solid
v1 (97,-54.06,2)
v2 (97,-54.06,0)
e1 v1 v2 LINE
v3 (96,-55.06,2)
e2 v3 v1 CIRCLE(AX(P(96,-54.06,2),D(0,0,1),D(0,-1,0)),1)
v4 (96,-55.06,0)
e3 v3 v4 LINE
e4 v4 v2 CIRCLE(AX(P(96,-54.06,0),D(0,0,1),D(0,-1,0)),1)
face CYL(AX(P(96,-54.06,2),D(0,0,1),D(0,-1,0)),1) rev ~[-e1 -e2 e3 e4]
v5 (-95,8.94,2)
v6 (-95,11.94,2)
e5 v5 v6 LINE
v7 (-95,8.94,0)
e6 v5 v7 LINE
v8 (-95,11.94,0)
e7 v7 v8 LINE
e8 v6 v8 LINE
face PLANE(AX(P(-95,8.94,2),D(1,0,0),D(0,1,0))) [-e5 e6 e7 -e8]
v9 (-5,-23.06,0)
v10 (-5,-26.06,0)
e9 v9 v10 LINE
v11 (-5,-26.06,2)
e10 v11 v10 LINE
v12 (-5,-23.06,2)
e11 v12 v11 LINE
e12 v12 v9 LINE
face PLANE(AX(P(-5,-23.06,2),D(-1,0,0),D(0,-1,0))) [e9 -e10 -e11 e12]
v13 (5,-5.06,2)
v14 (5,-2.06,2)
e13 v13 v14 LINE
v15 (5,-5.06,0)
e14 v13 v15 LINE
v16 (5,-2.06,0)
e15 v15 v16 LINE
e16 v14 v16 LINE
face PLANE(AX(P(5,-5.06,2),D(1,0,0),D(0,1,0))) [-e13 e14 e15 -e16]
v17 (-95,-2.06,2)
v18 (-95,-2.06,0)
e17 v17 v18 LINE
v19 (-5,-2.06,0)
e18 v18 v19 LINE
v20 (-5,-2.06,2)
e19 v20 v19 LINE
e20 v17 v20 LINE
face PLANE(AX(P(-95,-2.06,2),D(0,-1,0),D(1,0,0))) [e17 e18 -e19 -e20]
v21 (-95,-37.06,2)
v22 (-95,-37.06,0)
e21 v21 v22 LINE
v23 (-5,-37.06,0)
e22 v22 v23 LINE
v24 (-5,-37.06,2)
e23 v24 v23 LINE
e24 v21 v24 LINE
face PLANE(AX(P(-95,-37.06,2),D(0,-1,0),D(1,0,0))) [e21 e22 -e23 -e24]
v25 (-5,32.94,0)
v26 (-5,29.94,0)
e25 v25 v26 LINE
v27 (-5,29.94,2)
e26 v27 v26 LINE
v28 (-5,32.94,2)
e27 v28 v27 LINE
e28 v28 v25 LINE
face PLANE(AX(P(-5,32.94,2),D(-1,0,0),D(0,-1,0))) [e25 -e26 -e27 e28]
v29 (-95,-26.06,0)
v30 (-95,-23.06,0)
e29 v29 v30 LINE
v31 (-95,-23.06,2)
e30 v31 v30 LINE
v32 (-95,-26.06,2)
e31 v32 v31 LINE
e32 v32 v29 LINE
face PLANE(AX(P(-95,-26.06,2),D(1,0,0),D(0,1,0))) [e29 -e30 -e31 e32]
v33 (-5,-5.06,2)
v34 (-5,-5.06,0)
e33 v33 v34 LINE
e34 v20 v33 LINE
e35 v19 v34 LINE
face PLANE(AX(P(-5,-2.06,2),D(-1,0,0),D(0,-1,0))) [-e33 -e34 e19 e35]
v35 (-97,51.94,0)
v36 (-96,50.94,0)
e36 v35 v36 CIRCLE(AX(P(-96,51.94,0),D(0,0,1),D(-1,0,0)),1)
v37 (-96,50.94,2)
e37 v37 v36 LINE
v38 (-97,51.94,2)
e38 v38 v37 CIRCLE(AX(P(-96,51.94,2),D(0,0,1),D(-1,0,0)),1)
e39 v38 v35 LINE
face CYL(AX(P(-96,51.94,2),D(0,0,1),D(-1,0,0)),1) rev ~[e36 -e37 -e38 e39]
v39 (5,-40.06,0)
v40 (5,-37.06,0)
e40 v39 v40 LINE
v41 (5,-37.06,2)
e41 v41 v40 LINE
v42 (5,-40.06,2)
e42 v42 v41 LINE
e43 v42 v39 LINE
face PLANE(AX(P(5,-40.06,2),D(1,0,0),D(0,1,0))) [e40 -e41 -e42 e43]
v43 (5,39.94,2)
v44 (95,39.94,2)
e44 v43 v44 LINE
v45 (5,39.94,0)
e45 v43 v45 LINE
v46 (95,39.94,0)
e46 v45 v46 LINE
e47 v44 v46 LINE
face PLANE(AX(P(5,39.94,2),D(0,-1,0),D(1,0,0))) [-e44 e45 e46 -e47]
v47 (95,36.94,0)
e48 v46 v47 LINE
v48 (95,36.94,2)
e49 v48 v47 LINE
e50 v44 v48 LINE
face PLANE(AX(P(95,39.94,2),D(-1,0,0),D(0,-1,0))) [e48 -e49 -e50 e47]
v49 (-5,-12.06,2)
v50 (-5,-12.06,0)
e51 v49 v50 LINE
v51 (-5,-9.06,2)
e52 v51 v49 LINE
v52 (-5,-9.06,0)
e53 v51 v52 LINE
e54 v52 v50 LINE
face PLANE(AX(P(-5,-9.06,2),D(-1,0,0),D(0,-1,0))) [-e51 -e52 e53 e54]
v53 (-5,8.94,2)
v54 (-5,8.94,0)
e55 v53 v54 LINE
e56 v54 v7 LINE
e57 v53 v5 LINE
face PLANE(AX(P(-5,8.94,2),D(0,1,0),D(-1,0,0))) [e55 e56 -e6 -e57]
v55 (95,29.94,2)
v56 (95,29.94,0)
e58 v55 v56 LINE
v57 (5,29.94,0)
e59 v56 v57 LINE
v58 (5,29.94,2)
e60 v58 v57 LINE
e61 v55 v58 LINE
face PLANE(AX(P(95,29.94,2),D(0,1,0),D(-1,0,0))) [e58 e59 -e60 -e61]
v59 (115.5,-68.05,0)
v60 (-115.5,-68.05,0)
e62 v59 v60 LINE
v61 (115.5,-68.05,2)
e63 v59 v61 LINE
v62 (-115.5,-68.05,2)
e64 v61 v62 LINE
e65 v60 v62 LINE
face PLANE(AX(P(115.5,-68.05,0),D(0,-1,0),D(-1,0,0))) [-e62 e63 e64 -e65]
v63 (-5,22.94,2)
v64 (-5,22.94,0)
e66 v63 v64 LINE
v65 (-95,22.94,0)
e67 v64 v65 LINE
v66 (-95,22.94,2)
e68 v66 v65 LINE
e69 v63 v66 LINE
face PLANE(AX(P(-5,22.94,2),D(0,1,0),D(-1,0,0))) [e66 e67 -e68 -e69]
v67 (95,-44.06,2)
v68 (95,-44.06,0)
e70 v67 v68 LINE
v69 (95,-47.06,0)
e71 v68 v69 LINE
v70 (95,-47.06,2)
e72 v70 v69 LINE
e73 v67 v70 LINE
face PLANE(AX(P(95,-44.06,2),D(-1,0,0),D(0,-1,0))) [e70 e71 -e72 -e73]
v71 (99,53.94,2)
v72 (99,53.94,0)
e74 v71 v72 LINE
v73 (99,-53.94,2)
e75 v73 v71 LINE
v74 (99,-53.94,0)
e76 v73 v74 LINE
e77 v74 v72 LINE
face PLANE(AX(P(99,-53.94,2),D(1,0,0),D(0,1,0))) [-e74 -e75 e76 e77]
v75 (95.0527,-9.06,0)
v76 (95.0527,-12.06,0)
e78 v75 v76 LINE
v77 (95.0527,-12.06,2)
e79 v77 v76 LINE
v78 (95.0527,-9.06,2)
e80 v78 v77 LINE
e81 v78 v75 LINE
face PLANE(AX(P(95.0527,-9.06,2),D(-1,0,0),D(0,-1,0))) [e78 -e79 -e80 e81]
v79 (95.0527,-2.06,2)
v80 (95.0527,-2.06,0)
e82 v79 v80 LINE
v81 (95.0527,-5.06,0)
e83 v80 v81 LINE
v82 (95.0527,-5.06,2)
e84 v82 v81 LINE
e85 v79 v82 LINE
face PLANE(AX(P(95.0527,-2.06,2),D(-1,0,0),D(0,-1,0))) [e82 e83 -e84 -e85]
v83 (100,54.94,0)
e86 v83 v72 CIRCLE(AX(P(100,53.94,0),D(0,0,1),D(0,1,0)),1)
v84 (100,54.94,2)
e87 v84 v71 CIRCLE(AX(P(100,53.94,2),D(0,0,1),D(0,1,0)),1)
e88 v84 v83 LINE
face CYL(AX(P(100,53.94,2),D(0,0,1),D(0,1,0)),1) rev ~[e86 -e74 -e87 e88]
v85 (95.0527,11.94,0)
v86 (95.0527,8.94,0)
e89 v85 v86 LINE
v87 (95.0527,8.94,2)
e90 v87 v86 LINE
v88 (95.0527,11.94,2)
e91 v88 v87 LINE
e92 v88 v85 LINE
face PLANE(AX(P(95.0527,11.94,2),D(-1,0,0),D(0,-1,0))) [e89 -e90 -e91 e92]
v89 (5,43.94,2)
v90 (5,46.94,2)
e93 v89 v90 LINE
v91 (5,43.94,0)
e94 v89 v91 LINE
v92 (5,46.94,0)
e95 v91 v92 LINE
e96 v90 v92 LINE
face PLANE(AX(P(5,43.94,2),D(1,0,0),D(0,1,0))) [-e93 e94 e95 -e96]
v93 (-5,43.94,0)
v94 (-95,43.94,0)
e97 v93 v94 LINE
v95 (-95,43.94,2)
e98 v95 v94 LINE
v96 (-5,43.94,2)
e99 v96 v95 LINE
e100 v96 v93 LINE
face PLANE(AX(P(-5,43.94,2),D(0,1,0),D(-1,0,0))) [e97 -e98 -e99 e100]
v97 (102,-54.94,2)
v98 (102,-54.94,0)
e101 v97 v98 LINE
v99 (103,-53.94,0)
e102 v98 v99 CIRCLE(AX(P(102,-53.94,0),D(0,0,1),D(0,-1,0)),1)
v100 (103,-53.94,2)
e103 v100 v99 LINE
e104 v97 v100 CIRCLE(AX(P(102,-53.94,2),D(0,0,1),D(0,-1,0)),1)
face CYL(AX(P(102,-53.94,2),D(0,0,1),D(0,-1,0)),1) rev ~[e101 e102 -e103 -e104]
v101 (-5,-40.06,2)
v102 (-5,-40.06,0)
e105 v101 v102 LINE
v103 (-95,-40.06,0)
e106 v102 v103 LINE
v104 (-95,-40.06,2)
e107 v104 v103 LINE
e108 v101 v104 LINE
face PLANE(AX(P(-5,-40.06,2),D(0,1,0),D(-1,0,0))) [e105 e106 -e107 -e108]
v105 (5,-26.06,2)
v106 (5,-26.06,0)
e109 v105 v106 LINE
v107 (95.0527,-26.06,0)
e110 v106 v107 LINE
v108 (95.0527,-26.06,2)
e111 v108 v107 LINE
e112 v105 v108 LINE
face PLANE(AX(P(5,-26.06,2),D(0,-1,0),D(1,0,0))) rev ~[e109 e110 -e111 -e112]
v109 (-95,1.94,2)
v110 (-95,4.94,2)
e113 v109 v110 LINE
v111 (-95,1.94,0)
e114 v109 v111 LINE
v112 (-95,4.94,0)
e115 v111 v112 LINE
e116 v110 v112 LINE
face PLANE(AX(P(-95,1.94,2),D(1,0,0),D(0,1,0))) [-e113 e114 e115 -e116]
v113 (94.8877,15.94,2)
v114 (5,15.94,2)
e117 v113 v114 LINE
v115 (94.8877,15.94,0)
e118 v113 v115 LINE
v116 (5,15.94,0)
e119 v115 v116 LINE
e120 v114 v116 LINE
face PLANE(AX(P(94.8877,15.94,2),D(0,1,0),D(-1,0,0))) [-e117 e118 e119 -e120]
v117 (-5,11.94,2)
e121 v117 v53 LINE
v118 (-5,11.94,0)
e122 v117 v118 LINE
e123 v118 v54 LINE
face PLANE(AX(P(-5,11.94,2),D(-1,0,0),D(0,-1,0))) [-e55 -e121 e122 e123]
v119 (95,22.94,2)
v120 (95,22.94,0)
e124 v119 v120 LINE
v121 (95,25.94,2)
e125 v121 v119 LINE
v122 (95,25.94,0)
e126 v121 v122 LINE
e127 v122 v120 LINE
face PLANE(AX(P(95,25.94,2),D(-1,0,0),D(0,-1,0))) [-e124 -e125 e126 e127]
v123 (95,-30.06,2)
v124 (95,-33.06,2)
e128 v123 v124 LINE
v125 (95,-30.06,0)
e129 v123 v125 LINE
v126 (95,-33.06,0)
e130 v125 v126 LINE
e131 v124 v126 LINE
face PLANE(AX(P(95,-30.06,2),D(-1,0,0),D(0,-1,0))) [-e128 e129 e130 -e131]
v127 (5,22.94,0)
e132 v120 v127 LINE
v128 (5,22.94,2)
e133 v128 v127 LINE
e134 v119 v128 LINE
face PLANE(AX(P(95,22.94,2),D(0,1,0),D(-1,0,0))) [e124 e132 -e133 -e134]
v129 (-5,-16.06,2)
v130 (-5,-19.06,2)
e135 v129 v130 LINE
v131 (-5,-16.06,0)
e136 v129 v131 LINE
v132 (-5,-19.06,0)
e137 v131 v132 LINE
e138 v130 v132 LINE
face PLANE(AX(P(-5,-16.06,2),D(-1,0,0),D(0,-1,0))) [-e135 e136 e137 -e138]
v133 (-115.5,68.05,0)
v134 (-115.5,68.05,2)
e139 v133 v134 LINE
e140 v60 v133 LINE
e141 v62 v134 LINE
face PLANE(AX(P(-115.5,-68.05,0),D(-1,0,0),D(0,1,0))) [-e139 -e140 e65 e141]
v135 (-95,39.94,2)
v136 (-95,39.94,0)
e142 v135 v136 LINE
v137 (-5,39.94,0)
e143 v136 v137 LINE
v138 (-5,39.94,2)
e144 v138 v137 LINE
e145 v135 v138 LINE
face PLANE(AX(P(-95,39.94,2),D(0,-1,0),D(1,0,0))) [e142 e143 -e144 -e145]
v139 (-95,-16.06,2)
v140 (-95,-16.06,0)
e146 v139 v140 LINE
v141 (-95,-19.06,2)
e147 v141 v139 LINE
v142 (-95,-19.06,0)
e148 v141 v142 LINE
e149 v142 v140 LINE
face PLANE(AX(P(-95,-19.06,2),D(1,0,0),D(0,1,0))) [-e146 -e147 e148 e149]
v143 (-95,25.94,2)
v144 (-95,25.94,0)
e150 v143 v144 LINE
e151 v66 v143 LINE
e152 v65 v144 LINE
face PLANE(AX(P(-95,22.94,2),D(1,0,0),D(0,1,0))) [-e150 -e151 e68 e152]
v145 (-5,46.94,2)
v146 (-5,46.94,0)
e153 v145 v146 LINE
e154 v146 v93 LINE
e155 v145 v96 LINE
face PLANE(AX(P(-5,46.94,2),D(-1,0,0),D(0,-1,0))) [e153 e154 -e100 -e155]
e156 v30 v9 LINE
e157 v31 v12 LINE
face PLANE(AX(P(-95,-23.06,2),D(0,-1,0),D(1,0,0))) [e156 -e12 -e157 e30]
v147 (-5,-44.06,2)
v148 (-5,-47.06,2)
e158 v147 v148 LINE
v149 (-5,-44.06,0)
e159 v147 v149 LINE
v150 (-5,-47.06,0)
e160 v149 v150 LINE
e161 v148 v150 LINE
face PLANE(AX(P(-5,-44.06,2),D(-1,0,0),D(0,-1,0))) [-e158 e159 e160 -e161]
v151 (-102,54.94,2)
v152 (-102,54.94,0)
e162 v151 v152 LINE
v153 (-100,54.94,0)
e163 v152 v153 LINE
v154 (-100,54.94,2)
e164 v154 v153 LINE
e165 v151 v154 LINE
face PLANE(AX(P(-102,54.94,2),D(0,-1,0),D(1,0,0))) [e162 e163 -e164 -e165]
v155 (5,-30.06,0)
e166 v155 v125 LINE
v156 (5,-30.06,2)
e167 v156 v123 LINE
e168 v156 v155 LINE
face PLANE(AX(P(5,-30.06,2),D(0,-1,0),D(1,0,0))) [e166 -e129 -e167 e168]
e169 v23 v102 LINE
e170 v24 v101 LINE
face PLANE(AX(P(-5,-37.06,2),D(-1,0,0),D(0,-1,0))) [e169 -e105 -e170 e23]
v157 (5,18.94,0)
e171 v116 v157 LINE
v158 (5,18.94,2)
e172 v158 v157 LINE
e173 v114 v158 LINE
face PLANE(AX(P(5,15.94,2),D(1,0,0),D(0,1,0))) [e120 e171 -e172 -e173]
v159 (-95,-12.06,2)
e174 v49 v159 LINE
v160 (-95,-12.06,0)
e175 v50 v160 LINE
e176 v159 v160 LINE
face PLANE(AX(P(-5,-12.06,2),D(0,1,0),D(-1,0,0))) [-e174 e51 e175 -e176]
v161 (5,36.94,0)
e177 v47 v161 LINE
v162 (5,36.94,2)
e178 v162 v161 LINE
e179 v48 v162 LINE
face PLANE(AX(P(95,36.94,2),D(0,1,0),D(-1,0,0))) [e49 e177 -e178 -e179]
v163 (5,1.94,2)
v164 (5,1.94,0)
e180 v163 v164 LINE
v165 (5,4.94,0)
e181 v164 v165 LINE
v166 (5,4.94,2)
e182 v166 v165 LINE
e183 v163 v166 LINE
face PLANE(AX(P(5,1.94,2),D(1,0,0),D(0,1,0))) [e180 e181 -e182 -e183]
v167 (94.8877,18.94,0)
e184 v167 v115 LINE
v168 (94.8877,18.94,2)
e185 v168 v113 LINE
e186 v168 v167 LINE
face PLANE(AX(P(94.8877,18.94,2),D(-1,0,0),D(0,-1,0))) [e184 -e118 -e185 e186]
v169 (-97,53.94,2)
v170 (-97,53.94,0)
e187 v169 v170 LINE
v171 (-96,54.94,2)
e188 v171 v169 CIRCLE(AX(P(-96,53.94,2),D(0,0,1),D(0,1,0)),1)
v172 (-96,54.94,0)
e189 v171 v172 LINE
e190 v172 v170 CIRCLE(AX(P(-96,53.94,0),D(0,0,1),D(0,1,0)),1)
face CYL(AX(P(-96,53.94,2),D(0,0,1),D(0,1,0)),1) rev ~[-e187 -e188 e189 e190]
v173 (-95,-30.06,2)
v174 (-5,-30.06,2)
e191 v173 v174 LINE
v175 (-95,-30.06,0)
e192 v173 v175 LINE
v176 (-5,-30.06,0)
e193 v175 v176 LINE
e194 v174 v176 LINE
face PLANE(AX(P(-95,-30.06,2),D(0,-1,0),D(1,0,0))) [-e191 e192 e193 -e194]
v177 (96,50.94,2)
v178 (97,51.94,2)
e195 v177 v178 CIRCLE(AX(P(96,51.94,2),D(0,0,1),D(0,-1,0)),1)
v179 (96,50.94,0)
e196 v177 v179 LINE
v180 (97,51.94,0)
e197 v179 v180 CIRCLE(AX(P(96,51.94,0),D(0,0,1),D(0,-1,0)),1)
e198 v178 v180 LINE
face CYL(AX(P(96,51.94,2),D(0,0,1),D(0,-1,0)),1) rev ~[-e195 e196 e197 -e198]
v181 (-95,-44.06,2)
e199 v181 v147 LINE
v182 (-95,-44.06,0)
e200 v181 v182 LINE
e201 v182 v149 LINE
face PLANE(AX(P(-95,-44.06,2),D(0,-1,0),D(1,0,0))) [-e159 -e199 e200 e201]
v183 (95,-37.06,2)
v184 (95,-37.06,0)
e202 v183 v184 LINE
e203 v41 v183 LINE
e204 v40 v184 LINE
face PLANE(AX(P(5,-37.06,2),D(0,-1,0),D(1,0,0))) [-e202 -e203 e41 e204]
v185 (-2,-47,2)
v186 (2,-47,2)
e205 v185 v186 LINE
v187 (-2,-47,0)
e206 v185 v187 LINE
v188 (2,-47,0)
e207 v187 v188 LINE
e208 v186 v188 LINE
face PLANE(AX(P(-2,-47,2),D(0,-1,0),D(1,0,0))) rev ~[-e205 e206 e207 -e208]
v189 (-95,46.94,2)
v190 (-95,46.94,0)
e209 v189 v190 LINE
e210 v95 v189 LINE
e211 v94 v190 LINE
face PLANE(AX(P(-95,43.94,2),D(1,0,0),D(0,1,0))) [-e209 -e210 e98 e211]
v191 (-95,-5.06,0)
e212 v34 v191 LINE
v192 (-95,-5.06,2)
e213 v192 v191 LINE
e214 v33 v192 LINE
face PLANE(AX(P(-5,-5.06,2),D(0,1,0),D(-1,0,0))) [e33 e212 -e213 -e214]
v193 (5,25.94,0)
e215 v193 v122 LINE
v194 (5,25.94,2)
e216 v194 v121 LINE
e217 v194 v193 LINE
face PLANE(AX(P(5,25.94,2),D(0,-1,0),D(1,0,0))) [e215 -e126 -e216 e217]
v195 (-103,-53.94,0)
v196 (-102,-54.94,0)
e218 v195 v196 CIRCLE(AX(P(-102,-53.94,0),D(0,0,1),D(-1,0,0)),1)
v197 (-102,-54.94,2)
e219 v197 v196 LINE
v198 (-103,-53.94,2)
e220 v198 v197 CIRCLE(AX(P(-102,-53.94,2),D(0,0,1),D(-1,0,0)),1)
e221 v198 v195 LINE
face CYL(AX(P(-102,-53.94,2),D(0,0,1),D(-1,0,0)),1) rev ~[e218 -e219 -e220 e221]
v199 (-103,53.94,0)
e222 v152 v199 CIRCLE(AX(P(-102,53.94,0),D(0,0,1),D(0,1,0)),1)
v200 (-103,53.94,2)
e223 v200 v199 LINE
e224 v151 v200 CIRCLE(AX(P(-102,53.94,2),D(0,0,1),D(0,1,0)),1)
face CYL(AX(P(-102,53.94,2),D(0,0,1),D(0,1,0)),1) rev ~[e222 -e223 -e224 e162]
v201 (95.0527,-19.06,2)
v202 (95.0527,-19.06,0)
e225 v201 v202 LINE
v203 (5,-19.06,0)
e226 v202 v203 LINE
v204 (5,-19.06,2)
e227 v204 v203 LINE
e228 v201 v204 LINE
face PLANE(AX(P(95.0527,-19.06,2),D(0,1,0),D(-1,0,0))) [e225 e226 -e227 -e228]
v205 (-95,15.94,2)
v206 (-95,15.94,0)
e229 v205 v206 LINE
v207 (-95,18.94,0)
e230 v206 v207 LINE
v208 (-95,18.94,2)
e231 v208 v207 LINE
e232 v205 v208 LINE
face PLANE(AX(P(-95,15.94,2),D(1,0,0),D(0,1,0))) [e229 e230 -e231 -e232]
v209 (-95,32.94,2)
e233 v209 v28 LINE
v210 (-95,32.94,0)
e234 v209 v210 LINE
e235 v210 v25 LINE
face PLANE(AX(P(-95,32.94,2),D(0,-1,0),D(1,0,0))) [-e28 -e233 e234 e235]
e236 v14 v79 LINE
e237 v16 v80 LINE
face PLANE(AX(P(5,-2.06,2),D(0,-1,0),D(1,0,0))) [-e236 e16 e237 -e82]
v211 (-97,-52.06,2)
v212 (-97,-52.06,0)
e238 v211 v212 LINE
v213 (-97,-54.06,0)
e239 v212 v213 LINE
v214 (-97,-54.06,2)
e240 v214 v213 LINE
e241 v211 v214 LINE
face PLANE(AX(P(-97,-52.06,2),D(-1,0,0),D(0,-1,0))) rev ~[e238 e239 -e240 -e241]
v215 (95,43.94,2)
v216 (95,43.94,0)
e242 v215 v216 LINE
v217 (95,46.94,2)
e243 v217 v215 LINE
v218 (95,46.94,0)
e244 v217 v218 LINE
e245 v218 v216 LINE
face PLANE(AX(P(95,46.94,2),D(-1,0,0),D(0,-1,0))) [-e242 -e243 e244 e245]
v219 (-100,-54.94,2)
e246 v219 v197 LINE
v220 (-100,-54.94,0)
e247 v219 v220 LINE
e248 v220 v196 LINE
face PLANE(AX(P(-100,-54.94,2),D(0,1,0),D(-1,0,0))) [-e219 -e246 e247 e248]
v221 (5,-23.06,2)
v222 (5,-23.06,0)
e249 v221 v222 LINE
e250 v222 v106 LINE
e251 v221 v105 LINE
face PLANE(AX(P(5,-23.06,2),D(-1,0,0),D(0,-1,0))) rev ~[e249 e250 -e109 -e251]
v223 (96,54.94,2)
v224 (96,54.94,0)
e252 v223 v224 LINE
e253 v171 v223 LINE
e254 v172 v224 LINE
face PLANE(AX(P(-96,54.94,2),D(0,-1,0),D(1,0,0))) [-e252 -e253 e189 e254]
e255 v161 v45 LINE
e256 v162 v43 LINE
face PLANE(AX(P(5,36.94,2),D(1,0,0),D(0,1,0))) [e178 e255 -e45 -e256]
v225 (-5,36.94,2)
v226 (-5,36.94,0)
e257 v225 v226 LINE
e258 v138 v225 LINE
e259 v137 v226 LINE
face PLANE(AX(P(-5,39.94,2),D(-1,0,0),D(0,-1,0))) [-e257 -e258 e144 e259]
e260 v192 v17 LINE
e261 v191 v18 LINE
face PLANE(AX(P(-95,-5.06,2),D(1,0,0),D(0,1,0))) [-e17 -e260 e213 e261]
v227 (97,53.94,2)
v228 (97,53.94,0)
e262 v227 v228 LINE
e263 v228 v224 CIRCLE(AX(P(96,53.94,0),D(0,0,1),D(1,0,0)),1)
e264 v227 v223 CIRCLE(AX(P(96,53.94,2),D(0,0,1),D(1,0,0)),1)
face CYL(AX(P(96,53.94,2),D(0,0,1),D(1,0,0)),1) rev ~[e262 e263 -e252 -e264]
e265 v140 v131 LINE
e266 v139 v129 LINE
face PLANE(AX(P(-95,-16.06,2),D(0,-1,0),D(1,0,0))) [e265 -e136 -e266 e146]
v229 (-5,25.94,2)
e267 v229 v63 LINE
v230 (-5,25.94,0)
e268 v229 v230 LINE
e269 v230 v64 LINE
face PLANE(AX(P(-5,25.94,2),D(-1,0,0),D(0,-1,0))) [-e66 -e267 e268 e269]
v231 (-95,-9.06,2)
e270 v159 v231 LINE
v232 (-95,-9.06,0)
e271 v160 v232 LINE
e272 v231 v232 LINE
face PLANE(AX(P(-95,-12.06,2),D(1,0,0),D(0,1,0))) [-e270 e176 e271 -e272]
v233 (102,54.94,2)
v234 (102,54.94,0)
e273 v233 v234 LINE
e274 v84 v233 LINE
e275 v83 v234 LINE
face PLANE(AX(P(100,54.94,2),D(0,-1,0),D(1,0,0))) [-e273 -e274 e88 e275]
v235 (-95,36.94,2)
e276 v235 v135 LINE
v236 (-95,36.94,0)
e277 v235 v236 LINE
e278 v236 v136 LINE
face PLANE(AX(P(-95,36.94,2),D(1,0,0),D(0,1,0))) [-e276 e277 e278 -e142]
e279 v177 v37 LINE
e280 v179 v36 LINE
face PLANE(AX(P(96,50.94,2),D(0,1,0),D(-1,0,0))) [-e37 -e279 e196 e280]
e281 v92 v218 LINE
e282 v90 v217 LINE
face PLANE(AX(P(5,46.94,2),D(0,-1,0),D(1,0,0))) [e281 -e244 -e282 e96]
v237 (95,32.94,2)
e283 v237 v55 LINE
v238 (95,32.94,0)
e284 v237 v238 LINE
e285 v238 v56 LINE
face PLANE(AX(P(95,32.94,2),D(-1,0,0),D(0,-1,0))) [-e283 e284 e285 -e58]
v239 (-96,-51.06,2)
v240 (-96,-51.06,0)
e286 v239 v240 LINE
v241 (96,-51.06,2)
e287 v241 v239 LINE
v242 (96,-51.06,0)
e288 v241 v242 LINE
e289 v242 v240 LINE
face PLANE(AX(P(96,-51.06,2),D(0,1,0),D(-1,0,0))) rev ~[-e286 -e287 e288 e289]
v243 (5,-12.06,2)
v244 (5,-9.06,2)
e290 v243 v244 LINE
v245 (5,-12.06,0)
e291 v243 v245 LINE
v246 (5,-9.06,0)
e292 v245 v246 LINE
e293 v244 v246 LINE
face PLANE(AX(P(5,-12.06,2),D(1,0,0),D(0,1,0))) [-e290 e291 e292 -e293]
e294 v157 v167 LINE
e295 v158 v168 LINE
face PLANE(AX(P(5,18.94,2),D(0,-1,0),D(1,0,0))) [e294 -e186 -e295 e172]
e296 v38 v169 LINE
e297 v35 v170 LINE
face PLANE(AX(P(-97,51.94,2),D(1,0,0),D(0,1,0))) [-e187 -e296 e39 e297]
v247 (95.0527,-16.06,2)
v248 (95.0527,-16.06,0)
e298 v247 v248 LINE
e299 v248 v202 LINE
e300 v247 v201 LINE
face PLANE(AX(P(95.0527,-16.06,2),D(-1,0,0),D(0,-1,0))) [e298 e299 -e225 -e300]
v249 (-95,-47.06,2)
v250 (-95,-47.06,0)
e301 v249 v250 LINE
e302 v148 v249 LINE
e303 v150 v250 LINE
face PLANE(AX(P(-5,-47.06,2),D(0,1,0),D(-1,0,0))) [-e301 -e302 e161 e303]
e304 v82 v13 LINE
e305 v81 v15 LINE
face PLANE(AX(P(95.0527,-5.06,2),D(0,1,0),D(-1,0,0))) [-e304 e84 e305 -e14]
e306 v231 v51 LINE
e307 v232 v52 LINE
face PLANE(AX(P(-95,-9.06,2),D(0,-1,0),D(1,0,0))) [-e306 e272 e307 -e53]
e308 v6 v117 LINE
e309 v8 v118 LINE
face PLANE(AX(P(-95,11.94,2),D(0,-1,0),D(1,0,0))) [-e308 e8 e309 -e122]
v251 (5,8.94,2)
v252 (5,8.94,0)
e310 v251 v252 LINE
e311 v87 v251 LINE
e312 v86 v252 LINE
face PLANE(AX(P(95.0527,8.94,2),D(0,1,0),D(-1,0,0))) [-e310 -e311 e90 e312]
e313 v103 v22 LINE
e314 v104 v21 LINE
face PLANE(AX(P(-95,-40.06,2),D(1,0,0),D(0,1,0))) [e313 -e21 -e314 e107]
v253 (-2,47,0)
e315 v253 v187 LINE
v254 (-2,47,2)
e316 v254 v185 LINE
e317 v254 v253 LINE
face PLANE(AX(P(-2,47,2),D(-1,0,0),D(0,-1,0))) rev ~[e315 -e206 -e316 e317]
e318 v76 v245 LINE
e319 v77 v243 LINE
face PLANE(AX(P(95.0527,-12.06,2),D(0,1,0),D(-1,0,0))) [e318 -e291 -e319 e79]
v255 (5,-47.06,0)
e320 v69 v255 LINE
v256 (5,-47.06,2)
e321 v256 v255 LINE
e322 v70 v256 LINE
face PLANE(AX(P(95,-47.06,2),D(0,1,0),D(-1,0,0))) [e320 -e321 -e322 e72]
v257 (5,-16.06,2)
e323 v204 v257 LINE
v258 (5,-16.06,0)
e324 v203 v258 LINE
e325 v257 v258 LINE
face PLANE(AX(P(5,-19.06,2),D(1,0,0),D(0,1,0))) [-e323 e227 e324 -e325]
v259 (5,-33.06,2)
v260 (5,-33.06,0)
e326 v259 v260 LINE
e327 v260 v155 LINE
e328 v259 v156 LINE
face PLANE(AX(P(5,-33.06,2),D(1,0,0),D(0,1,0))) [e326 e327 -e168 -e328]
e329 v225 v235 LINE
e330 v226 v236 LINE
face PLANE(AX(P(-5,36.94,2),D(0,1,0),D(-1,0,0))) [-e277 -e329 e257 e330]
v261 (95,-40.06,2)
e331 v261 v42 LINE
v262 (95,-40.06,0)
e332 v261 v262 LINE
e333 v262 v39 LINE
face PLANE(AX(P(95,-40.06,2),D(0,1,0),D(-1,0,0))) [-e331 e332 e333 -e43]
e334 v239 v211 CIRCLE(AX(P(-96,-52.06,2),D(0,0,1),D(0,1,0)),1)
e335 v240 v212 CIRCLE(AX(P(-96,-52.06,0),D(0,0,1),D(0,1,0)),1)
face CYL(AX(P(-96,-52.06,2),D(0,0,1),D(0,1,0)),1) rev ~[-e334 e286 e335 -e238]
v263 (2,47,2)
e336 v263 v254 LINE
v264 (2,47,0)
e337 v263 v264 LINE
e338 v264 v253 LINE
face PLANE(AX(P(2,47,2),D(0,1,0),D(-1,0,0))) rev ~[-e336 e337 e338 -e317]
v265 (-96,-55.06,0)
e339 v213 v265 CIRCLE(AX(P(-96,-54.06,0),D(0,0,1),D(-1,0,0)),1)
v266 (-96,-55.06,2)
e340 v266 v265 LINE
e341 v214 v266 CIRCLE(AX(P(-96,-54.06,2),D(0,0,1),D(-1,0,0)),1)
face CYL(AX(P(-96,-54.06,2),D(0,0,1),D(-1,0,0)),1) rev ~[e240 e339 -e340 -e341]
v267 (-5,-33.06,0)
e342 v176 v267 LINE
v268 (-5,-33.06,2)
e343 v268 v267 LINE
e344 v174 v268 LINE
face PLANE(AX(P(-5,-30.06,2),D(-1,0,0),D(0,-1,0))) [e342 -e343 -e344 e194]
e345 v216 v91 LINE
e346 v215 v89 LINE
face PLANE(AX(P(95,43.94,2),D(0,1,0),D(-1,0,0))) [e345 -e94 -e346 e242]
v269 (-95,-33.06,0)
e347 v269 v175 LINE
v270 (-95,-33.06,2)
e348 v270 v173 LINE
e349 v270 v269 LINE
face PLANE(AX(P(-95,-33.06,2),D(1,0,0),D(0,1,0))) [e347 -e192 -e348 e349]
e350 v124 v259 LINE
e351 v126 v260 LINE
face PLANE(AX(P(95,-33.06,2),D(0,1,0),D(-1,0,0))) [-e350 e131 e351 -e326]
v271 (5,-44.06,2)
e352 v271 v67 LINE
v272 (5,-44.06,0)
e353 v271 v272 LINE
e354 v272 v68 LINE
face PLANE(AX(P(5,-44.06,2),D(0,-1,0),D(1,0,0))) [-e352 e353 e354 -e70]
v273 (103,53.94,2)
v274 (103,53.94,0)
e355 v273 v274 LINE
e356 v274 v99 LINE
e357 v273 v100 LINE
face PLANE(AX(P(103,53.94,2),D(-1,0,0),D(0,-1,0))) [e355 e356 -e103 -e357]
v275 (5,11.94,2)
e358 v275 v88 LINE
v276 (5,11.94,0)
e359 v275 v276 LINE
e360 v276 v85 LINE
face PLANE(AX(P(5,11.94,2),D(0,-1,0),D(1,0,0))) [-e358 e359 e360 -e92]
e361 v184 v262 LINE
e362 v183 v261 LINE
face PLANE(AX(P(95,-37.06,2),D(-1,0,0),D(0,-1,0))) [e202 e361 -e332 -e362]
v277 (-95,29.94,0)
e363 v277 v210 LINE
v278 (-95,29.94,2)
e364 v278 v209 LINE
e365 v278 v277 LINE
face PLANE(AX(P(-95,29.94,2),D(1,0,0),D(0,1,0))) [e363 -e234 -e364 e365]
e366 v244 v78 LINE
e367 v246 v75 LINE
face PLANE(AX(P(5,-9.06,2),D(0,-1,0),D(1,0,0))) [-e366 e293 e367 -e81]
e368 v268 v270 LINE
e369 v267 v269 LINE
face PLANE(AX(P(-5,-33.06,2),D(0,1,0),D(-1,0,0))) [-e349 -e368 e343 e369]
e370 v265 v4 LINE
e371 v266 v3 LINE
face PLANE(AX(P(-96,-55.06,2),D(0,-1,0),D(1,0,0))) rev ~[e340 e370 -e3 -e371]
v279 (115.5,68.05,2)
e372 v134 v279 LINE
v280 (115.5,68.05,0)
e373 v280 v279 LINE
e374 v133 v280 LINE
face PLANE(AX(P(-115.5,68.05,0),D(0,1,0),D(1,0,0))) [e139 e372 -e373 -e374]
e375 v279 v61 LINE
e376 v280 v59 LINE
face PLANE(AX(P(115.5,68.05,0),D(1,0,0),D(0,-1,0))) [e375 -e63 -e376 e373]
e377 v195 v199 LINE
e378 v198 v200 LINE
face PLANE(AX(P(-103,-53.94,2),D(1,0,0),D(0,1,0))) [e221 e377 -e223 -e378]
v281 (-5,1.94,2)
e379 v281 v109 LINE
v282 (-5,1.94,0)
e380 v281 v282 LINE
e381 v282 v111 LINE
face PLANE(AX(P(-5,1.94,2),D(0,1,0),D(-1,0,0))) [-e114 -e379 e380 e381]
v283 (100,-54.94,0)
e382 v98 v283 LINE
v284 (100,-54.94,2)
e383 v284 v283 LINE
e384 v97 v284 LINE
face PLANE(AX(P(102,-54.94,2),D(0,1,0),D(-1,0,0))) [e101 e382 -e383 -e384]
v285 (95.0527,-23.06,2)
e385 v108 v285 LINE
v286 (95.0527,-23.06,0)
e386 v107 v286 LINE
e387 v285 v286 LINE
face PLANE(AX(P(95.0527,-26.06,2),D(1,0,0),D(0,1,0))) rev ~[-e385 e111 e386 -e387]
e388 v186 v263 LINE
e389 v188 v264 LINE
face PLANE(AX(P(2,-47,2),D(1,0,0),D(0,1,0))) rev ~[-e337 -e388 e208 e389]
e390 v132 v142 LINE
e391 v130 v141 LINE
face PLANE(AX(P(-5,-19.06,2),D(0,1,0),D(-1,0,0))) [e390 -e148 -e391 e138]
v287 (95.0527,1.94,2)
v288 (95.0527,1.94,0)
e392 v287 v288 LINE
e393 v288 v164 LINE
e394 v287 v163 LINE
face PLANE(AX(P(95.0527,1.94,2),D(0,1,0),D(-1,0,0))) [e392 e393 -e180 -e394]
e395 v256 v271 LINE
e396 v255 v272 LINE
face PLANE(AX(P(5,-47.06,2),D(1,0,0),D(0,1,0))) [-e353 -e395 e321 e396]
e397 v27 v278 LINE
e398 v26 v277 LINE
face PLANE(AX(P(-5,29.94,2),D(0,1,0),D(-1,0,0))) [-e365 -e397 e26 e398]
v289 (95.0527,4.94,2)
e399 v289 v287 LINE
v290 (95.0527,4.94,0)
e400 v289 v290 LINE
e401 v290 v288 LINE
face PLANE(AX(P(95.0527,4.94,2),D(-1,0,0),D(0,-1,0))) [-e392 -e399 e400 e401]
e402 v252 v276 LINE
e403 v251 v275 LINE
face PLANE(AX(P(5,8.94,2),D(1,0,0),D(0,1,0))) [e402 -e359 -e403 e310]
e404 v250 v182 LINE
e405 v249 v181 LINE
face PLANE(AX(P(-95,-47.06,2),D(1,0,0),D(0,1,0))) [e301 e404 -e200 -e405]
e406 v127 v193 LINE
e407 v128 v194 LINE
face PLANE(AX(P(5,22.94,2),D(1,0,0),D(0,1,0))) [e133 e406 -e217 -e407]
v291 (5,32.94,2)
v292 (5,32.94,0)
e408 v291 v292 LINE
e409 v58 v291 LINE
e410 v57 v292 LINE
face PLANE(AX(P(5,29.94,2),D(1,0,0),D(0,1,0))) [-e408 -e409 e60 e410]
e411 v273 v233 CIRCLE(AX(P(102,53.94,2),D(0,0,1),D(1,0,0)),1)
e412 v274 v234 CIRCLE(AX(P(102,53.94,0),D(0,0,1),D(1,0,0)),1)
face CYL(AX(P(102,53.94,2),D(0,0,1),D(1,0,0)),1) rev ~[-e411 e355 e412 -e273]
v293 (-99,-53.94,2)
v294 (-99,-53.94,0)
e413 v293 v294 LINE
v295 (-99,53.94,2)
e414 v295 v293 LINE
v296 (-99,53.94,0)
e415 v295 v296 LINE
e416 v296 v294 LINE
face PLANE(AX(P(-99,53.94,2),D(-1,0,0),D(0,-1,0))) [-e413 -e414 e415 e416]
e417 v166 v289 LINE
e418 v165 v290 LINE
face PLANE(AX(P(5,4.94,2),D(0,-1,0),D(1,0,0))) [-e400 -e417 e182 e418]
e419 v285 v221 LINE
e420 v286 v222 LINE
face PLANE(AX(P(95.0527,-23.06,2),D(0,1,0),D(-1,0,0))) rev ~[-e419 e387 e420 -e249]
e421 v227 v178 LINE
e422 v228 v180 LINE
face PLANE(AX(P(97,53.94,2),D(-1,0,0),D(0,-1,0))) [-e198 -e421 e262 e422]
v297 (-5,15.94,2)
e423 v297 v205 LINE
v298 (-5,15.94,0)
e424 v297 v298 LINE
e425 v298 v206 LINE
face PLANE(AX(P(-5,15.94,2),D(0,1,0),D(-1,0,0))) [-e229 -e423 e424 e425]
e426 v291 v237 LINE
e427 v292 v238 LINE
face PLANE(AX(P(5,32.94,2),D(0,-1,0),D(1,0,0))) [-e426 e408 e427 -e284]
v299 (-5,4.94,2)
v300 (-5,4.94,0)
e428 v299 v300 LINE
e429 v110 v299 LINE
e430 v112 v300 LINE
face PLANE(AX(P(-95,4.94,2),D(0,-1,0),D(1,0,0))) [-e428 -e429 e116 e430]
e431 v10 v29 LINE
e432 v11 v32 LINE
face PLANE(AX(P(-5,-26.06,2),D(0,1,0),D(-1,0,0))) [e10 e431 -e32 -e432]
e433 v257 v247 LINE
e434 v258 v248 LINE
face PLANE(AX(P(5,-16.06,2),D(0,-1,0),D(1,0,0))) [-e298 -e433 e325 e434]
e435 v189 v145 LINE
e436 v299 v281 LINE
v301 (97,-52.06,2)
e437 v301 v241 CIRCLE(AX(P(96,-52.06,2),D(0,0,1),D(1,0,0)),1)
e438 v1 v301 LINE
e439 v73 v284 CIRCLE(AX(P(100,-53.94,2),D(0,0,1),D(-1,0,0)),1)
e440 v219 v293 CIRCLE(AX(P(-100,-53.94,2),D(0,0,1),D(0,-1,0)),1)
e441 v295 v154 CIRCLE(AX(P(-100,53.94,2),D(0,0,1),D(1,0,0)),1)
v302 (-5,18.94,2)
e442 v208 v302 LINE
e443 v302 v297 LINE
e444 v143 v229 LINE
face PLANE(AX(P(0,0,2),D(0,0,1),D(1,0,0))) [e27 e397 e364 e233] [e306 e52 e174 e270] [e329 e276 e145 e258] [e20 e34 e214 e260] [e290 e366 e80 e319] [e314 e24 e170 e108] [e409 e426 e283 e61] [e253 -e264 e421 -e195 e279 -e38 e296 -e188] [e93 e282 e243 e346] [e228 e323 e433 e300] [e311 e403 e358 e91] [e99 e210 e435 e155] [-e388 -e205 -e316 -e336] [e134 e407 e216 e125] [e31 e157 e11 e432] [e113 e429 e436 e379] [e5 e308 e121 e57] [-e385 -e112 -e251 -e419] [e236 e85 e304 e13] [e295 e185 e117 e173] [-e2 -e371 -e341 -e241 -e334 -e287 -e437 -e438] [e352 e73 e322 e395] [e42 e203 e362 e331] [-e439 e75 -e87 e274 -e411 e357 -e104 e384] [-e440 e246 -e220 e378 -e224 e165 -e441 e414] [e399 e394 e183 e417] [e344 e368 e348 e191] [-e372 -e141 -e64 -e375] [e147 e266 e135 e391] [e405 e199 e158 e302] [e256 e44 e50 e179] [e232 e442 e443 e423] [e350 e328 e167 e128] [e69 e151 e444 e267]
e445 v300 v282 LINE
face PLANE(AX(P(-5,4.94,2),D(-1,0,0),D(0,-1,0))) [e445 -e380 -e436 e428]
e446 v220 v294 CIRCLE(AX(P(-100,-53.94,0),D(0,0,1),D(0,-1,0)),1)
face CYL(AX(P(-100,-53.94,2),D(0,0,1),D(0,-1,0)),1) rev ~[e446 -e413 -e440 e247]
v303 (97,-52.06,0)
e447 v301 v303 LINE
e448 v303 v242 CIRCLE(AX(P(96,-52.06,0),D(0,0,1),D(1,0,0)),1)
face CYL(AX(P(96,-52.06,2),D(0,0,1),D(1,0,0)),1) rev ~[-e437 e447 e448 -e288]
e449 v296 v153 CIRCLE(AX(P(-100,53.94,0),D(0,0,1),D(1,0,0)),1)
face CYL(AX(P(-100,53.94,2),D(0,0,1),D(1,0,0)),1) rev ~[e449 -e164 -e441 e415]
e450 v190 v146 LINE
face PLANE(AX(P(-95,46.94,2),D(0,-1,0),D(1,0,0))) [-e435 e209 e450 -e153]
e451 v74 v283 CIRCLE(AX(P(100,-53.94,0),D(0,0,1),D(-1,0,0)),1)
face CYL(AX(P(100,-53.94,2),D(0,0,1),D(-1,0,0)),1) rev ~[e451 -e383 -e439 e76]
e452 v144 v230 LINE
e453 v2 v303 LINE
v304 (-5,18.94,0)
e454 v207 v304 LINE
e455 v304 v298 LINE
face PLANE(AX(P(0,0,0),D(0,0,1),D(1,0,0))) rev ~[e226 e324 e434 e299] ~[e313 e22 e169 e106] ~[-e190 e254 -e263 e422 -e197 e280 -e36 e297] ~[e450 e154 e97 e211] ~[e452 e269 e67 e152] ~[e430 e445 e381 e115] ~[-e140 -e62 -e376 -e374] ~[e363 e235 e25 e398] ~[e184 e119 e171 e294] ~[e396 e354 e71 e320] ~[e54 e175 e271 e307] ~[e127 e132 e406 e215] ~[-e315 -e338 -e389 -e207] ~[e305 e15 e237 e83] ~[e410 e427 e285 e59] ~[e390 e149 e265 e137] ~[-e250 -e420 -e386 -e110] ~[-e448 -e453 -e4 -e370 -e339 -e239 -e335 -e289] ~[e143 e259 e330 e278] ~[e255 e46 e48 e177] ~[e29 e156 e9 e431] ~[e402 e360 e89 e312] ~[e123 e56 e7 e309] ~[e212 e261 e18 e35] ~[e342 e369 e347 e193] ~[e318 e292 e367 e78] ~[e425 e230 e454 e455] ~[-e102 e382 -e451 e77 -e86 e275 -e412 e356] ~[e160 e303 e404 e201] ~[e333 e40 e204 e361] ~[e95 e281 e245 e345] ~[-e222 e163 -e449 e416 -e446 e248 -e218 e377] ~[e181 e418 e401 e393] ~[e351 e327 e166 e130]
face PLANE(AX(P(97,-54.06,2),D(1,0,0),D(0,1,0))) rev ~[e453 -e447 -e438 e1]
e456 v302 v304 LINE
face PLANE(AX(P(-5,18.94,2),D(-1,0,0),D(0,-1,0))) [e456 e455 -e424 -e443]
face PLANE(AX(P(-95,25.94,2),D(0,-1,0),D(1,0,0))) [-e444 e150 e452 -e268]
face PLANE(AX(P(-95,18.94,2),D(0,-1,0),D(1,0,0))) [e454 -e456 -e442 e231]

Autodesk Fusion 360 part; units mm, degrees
sketch "Sketch1" plane through (0, 0, 0) normal (0, 0, 1) x (1, 0, 0)
  line L0 (115.5, -68.05) -> (-115.5, -68.05)
  line L1 (-115.5, -68.05) -> (-115.5, 68.05)
  line L2 (-115.5, 68.05) -> (115.5, 68.05)
  line L3 (115.5, 68.05) -> (115.5, -68.05)
  line L4 (115.5, -68.05) -> (-115.5, 68.05) construction
  line L5 (-115.5, -68.05) -> (115.5, 68.05) construction
  dimension "d1" = 136.1
  dimension "d2" = 231
extrude "Extrude1" add sketch "Sketch1" along normal blind 2
sketch "Sketch2" plane through (0, 0, 2) normal (0, 0, 1) x (-1, 0, 0)
  line L0 (-115.5, -68.05) -> (115.5, -68.05)
  line L1 (115.5, -68.05) -> (115.5, 68.05)
  line L2 (115.5, 68.05) -> (-115.5, 68.05)
  line L3 (-115.5, 68.05) -> (-115.5, -68.05)
  line L4 (5, -8.94) -> (95, -8.94)
  line L5 (5, -1.94) -> (95, -1.94)
  line L6 (-5, -8.94) -> (-5, -11.94)
  line L7 (2, 47) -> (-2, 47)
  line L8 (-5, -29.94) -> (-5, -32.94)
  line L9 (-5, 5.06) -> (-5, 2.06)
  line L10 (-5, -36.94) -> (-5, -39.94)
  line L11 (5, 47.06) -> (95, 47.06)
  line L12 (-5, 40.06) -> (-5, 37.06)
  line L13 (-5, 19.06) -> (-5, 16.06)
  line L14 (-95, 44.06) -> (-95, 47.06)
  arc A0 (-96, 55.06) -> (-97, 54.06) centre (-96, 54.06) ccw
  line L15 (-95, -25.94) -> (-95, -22.94)
  line L16 (-95, -39.94) -> (-95, -36.94)
  arc A1 (-100, -54.94) -> (-99, -53.94) centre (-100, -53.94) ccw
  line L17 (5, 30.06) -> (5, 33.06)
  line L18 (2, -47) -> (2, 47)
  line L19 (-95, 30.06) -> (-95, 33.06)
  line L20 (5, 44.06) -> (5, 47.06)
  arc A2 (-103, -53.94) -> (-102, -54.94) centre (-102, -53.94) ccw
  line L21 (-102, 54.94) -> (-100, 54.94)
  line L22 (5, 37.06) -> (5, 40.06)
  line L23 (-95, -46.94) -> (-95, -43.94)
  line L24 (-95.0527, 9.06) -> (-95.0527, 12.06)
  line L25 (-5, -1.94) -> (-5, -4.94)
  line L26 (5, 16.06) -> (5, 19.06)
  arc A3 (-97, -53.94) -> (-96, -54.94) centre (-96, -53.94) ccw
  line L27 (-100, -54.94) -> (-102, -54.94)
  line L28 (-95.0527, 2.06) -> (-95.0527, 5.06)
  line L29 (-97, 54.06) -> (-97, 52.06)
  line L30 (-5, -43.94) -> (-5, -46.94)
  line L31 (-97, -53.94) -> (-97, -51.94)
  line L32 (5, -4.94) -> (5, -1.94)
  line L33 (5, 23.06) -> (5, 26.06)
  line L34 (-5, -22.94) -> (-5, -25.94)
  line L35 (-2, 47) -> (-2, -47)
  line L36 (-94.8877, -18.94) -> (-94.8877, -15.94)
  line L37 (-2, 47) -> (2, -47) construction
  arc A4 (-96, -50.94) -> (-97, -51.94) centre (-96, -51.94) ccw
  line L38 (-103, -53.94) -> (-103, 53.94)
  line L39 (5, -46.94) -> (5, -43.94)
  line L40 (-95.0527, -11.94) -> (-95.0527, -8.94)
  line L41 (5, 9.06) -> (5, 12.06)
  line L42 (-95.0527, 16.06) -> (-95.0527, 19.06)
  line L43 (-95, -32.94) -> (-95, -29.94)
  line L44 (5, -39.94) -> (5, -36.94)
  line L45 (5, -18.94) -> (5, -15.94)
  arc A5 (-97, 52.06) -> (-96, 51.06) centre (-96, 52.06) ccw
  line L46 (-95, 37.06) -> (-95, 40.06)
  line L47 (-95.0527, -4.94) -> (-95.0527, -1.94)
  arc A6 (-102, 54.94) -> (-103, 53.94) centre (-102, 53.94) ccw
  line L48 (-99, 53.94) -> (-99, -53.94)
  line L49 (95, -29.94) -> (95, -32.94)
  line L50 (-94.8877, -15.94) -> (-5, -15.94)
  line L51 (-5, -25.94) -> (-95, -25.94)
  line L52 (-5, -4.94) -> (-95.0527, -4.94)
  line L53 (95, 26.06) -> (95, 23.06)
  line L54 (-5, -18.94) -> (-94.8877, -18.94)
  line L55 (-5, -11.94) -> (-95.0527, -11.94)
  line L56 (95, 33.06) -> (95, 30.06)
  arc A7 (99, -53.94) -> (100, -54.94) centre (100, -53.94) ccw
  line L57 (-5, 44.06) -> (-95, 44.06)
  line L58 (103, 53.94) -> (103, -53.94)
  line L59 (5, -25.94) -> (5, -22.94)
  arc A8 (100, 54.94) -> (99, 53.94) centre (100, 53.94) ccw
  line L60 (-95.0527, 23.06) -> (-5, 23.06)
  line L61 (97, 52.06) -> (97, 54.06)
  arc A9 (103, 53.94) -> (102, 54.94) centre (102, 53.94) ccw
  line L62 (-95.0527, 26.06) -> (-95.0527, 23.06)
  line L63 (-5, -39.94) -> (-95, -39.94)
  line L64 (5, 2.06) -> (5, 5.06)
  line L65 (-5, 47.06) -> (-5, 44.06)
  arc A10 (-99, 53.94) -> (-100, 54.94) centre (-100, 53.94) ccw
  line L66 (95, -36.94) -> (95, -39.94)
  line L67 (2, 47) -> (-2, -47) construction
  line L68 (-95.0527, 12.06) -> (-5, 12.06)
  arc A11 (97, 54.06) -> (96, 55.06) centre (96, 54.06) ccw
  line L69 (-95, -29.94) -> (-5, -29.94)
  line L70 (-95.0527, -8.94) -> (-5, -8.94)
  line L71 (95, -43.94) -> (95, -46.94)
  line L72 (-95.0527, 5.06) -> (-5, 5.06)
  line L73 (95, 19.06) -> (95, 16.06)
  line L74 (95, 12.06) -> (95, 9.06)
  line L75 (-95, -36.94) -> (-5, -36.94)
  line L76 (-5, 30.06) -> (-95, 30.06)
  line L77 (-95, -43.94) -> (-5, -43.94)
  line L78 (-5, 26.06) -> (-95.0527, 26.06)
  line L79 (-2, -47) -> (2, -47)
  line L80 (-5, 33.06) -> (-5, 30.06)
  line L81 (-5, 23.06) -> (-5, 26.06)
  line L82 (95, -46.94) -> (5, -46.94)
  line L83 (95, 44.06) -> (5, 44.06)
  line L84 (5, 12.06) -> (95, 12.06)
  line L85 (95, -39.94) -> (5, -39.94)
  line L86 (5, -15.94) -> (95, -15.94)
  line L87 (96, 55.06) -> (-96, 55.06)
  line L88 (95, -18.94) -> (5, -18.94)
  line L89 (95, 16.06) -> (5, 16.06)
  line L90 (5, 5.06) -> (95, 5.06)
  line L91 (95, 2.06) -> (5, 2.06)
  line L92 (-96, -50.94) -> (96, -50.94)
  line L93 (5, 40.06) -> (95, 40.06)
  line L94 (95, -11.94) -> (5, -11.94)
  line L95 (95, -4.94) -> (5, -4.94)
  line L96 (95, -32.94) -> (5, -32.94)
  line L97 (5, 26.06) -> (95, 26.06)
  line L98 (96, -54.94) -> (-96, -54.94)
  line L99 (95, -25.94) -> (5, -25.94)
  line L100 (95, 9.06) -> (5, 9.06)
  line L101 (95, -1.94) -> (95, -4.94)
  line L102 (5, 33.06) -> (95, 33.06)
  line L103 (95, -15.94) -> (95, -18.94)
  line L104 (5, -43.94) -> (95, -43.94)
  arc A12 (102, -54.94) -> (103, -53.94) centre (102, -53.94) ccw
  line L105 (5, -22.94) -> (95, -22.94)
  arc A13 (96, 51.06) -> (97, 52.06) centre (96, 52.06) ccw
  line L106 (-95.0527, 19.06) -> (-5, 19.06)
  line L107 (95, 23.06) -> (5, 23.06)
  line L108 (-5, 9.06) -> (-95.0527, 9.06)
  line L109 (-95, -22.94) -> (-5, -22.94)
  line L110 (95, -8.94) -> (95, -11.94)
  line L111 (-5, 16.06) -> (-95.0527, 16.06)
  line L112 (-95, 47.06) -> (-5, 47.06)
  line L113 (95, 47.06) -> (95, 44.06)
  arc A14 (97, -51.94) -> (96, -50.94) centre (96, -51.94) ccw
  line L114 (5, 19.06) -> (95, 19.06)
  line L115 (95, -22.94) -> (95, -25.94)
  line L116 (-5, 37.06) -> (-95, 37.06)
  line L117 (102, -54.94) -> (100, -54.94)
  line L118 (97, -51.94) -> (97, -53.94)
  line L119 (-95, 40.06) -> (-5, 40.06)
  line L120 (100, 54.94) -> (102, 54.94)
  line L121 (95, 40.06) -> (95, 37.06)
  line L122 (5, -36.94) -> (95, -36.94)
  line L123 (-5, -32.94) -> (-95, -32.94)
  arc A15 (96, -54.94) -> (97, -53.94) centre (96, -53.94) ccw
  line L124 (-95, 33.06) -> (-5, 33.06)
  line L125 (99, -53.94) -> (99, 53.94)
  line L126 (95, 5.06) -> (95, 2.06)
  line L127 (95, 30.06) -> (5, 30.06)
  line L128 (-5, 2.06) -> (-95.0527, 2.06)
  line L129 (-5, -46.94) -> (-95, -46.94)
  line L130 (-96, 51.06) -> (96, 51.06)
  line L131 (-95.0527, -1.94) -> (-5, -1.94)
  line L132 (5, -29.94) -> (95, -29.94)
  line L133 (5, -32.94) -> (5, -29.94)
  line L134 (5, -11.94) -> (5, -8.94)
  line L135 (-5, -15.94) -> (-5, -18.94)
  line L136 (95, 37.06) -> (5, 37.06)
  line L137 (-5, 12.06) -> (-5, 9.06)
  point P0 (103, -54.94)
  point P1 (99, -54.94)
  point P2 (-97, -50.94)
  point P3 (-97, -54.94)
  dimension "d5" = 4
  dimension "d9" = 4
  dimension "d11" = 2
  dimension "d12" = 2
  dimension "d13" = 4
  dimension "d16" = 4
  dimension "d20" = 1
  dimension "d21" = 3
  dimension "d22" = 4
  dimension "d23" = 90
  dimension "d24" = 4
  dimension "d25" = 3
  dimension "d26" = 90
  dimension "d27" = 0
  dimension "d28" = 0
  dimension "d29" = 3
  dimension "d30" = 3
  dimension "d31" = 3
  dimension "d32" = 3
  dimension "d33" = 3
  dimension "d34" = 3
  dimension "d35" = 3
  dimension "d36" = 3
  dimension "d37" = 3
  dimension "d38" = 3
  dimension "d39" = 4
  dimension "d40" = 4
  dimension "d41" = 4
  dimension "d42" = 4
  dimension "d43" = 4
  dimension "d44" = 4
  dimension "d45" = 4
  dimension "d46" = 4
  dimension "d47" = 4
  dimension "d48" = 4
  dimension "d49" = 4
  dimension "d50" = 3
  dimension "d51" = 4
  dimension "d52" = 3
  dimension "d53" = 4
  dimension "d54" = 4
  dimension "d55" = 90
  dimension "d56" = 3
  dimension "d57" = 4
  dimension "d58" = 4
  dimension "d59" = 3
  dimension "d60" = 4
  dimension "d61" = 3
  dimension "d62" = 4
  dimension "d63" = 3
  dimension "d64" = 4
  dimension "d65" = 3
  dimension "d66" = 4
  dimension "d67" = 3
  dimension "d68" = 4
  dimension "d69" = 4
  dimension "d70" = 3
  dimension "d71" = 3
  dimension "d72" = 4
  dimension "d73" = 4
  dimension "d74" = 3
  dimension "d75" = 3
  dimension "d76" = 3
  dimension "d77" = 3
  dimension "d78" = 3
  dimension "d79" = 4
  dimension "d80" = 4
  dimension "d81" = 4
  dimension "d82" = 4
  dimension "d83" = 4
  dimension "d84" = 3
  dimension "d85" = 4
extrude "Extrude2" cut sketch "Sketch2" against normal blind 5 contours L4 L94 L110 L134 | L5 L32 L95 L101 | L6 L40 L55 L70 | L7 L18 L35 L79 | L8 L43 L69 L123 | L9 L28 L72 L128 | L10 L16 L63 L75 | L11 L20 L83 L113 | L12 L46 L116 L119 | L13 L42 L106 L111 | L14 L57 L65 L112 | A0 L29 A5 L61 A11 L87 A13 L130 | L15 L34 L51 L109 | A1 A2 L21 L27 L38 A6 L48 A10 | L17 L56 L102 L127 | L19 L76 L80 L124 | L22 L93 L121 L136 | L23 L30 L77 L129 | L24 L68 L108 L137 | L25 L47 L52 L131 | L26 L73 L89 L114 | A3 L31 A4 L92 L98 A14 L118 A15 | L33 L53 L97 L107 | L36 L50 L54 L135 | L39 L71 L82 L104 | L41 L74 L84 L100 | L44 L66 L85 L122 | L45 L86 L88 L103 | L49 L96 L132 L133 | A7 L58 A8 A9 A12 L117 L120 L125 | L59 L99 L105 L115 | L60 L62 L78 L81 | L64 L90 L91 L126
